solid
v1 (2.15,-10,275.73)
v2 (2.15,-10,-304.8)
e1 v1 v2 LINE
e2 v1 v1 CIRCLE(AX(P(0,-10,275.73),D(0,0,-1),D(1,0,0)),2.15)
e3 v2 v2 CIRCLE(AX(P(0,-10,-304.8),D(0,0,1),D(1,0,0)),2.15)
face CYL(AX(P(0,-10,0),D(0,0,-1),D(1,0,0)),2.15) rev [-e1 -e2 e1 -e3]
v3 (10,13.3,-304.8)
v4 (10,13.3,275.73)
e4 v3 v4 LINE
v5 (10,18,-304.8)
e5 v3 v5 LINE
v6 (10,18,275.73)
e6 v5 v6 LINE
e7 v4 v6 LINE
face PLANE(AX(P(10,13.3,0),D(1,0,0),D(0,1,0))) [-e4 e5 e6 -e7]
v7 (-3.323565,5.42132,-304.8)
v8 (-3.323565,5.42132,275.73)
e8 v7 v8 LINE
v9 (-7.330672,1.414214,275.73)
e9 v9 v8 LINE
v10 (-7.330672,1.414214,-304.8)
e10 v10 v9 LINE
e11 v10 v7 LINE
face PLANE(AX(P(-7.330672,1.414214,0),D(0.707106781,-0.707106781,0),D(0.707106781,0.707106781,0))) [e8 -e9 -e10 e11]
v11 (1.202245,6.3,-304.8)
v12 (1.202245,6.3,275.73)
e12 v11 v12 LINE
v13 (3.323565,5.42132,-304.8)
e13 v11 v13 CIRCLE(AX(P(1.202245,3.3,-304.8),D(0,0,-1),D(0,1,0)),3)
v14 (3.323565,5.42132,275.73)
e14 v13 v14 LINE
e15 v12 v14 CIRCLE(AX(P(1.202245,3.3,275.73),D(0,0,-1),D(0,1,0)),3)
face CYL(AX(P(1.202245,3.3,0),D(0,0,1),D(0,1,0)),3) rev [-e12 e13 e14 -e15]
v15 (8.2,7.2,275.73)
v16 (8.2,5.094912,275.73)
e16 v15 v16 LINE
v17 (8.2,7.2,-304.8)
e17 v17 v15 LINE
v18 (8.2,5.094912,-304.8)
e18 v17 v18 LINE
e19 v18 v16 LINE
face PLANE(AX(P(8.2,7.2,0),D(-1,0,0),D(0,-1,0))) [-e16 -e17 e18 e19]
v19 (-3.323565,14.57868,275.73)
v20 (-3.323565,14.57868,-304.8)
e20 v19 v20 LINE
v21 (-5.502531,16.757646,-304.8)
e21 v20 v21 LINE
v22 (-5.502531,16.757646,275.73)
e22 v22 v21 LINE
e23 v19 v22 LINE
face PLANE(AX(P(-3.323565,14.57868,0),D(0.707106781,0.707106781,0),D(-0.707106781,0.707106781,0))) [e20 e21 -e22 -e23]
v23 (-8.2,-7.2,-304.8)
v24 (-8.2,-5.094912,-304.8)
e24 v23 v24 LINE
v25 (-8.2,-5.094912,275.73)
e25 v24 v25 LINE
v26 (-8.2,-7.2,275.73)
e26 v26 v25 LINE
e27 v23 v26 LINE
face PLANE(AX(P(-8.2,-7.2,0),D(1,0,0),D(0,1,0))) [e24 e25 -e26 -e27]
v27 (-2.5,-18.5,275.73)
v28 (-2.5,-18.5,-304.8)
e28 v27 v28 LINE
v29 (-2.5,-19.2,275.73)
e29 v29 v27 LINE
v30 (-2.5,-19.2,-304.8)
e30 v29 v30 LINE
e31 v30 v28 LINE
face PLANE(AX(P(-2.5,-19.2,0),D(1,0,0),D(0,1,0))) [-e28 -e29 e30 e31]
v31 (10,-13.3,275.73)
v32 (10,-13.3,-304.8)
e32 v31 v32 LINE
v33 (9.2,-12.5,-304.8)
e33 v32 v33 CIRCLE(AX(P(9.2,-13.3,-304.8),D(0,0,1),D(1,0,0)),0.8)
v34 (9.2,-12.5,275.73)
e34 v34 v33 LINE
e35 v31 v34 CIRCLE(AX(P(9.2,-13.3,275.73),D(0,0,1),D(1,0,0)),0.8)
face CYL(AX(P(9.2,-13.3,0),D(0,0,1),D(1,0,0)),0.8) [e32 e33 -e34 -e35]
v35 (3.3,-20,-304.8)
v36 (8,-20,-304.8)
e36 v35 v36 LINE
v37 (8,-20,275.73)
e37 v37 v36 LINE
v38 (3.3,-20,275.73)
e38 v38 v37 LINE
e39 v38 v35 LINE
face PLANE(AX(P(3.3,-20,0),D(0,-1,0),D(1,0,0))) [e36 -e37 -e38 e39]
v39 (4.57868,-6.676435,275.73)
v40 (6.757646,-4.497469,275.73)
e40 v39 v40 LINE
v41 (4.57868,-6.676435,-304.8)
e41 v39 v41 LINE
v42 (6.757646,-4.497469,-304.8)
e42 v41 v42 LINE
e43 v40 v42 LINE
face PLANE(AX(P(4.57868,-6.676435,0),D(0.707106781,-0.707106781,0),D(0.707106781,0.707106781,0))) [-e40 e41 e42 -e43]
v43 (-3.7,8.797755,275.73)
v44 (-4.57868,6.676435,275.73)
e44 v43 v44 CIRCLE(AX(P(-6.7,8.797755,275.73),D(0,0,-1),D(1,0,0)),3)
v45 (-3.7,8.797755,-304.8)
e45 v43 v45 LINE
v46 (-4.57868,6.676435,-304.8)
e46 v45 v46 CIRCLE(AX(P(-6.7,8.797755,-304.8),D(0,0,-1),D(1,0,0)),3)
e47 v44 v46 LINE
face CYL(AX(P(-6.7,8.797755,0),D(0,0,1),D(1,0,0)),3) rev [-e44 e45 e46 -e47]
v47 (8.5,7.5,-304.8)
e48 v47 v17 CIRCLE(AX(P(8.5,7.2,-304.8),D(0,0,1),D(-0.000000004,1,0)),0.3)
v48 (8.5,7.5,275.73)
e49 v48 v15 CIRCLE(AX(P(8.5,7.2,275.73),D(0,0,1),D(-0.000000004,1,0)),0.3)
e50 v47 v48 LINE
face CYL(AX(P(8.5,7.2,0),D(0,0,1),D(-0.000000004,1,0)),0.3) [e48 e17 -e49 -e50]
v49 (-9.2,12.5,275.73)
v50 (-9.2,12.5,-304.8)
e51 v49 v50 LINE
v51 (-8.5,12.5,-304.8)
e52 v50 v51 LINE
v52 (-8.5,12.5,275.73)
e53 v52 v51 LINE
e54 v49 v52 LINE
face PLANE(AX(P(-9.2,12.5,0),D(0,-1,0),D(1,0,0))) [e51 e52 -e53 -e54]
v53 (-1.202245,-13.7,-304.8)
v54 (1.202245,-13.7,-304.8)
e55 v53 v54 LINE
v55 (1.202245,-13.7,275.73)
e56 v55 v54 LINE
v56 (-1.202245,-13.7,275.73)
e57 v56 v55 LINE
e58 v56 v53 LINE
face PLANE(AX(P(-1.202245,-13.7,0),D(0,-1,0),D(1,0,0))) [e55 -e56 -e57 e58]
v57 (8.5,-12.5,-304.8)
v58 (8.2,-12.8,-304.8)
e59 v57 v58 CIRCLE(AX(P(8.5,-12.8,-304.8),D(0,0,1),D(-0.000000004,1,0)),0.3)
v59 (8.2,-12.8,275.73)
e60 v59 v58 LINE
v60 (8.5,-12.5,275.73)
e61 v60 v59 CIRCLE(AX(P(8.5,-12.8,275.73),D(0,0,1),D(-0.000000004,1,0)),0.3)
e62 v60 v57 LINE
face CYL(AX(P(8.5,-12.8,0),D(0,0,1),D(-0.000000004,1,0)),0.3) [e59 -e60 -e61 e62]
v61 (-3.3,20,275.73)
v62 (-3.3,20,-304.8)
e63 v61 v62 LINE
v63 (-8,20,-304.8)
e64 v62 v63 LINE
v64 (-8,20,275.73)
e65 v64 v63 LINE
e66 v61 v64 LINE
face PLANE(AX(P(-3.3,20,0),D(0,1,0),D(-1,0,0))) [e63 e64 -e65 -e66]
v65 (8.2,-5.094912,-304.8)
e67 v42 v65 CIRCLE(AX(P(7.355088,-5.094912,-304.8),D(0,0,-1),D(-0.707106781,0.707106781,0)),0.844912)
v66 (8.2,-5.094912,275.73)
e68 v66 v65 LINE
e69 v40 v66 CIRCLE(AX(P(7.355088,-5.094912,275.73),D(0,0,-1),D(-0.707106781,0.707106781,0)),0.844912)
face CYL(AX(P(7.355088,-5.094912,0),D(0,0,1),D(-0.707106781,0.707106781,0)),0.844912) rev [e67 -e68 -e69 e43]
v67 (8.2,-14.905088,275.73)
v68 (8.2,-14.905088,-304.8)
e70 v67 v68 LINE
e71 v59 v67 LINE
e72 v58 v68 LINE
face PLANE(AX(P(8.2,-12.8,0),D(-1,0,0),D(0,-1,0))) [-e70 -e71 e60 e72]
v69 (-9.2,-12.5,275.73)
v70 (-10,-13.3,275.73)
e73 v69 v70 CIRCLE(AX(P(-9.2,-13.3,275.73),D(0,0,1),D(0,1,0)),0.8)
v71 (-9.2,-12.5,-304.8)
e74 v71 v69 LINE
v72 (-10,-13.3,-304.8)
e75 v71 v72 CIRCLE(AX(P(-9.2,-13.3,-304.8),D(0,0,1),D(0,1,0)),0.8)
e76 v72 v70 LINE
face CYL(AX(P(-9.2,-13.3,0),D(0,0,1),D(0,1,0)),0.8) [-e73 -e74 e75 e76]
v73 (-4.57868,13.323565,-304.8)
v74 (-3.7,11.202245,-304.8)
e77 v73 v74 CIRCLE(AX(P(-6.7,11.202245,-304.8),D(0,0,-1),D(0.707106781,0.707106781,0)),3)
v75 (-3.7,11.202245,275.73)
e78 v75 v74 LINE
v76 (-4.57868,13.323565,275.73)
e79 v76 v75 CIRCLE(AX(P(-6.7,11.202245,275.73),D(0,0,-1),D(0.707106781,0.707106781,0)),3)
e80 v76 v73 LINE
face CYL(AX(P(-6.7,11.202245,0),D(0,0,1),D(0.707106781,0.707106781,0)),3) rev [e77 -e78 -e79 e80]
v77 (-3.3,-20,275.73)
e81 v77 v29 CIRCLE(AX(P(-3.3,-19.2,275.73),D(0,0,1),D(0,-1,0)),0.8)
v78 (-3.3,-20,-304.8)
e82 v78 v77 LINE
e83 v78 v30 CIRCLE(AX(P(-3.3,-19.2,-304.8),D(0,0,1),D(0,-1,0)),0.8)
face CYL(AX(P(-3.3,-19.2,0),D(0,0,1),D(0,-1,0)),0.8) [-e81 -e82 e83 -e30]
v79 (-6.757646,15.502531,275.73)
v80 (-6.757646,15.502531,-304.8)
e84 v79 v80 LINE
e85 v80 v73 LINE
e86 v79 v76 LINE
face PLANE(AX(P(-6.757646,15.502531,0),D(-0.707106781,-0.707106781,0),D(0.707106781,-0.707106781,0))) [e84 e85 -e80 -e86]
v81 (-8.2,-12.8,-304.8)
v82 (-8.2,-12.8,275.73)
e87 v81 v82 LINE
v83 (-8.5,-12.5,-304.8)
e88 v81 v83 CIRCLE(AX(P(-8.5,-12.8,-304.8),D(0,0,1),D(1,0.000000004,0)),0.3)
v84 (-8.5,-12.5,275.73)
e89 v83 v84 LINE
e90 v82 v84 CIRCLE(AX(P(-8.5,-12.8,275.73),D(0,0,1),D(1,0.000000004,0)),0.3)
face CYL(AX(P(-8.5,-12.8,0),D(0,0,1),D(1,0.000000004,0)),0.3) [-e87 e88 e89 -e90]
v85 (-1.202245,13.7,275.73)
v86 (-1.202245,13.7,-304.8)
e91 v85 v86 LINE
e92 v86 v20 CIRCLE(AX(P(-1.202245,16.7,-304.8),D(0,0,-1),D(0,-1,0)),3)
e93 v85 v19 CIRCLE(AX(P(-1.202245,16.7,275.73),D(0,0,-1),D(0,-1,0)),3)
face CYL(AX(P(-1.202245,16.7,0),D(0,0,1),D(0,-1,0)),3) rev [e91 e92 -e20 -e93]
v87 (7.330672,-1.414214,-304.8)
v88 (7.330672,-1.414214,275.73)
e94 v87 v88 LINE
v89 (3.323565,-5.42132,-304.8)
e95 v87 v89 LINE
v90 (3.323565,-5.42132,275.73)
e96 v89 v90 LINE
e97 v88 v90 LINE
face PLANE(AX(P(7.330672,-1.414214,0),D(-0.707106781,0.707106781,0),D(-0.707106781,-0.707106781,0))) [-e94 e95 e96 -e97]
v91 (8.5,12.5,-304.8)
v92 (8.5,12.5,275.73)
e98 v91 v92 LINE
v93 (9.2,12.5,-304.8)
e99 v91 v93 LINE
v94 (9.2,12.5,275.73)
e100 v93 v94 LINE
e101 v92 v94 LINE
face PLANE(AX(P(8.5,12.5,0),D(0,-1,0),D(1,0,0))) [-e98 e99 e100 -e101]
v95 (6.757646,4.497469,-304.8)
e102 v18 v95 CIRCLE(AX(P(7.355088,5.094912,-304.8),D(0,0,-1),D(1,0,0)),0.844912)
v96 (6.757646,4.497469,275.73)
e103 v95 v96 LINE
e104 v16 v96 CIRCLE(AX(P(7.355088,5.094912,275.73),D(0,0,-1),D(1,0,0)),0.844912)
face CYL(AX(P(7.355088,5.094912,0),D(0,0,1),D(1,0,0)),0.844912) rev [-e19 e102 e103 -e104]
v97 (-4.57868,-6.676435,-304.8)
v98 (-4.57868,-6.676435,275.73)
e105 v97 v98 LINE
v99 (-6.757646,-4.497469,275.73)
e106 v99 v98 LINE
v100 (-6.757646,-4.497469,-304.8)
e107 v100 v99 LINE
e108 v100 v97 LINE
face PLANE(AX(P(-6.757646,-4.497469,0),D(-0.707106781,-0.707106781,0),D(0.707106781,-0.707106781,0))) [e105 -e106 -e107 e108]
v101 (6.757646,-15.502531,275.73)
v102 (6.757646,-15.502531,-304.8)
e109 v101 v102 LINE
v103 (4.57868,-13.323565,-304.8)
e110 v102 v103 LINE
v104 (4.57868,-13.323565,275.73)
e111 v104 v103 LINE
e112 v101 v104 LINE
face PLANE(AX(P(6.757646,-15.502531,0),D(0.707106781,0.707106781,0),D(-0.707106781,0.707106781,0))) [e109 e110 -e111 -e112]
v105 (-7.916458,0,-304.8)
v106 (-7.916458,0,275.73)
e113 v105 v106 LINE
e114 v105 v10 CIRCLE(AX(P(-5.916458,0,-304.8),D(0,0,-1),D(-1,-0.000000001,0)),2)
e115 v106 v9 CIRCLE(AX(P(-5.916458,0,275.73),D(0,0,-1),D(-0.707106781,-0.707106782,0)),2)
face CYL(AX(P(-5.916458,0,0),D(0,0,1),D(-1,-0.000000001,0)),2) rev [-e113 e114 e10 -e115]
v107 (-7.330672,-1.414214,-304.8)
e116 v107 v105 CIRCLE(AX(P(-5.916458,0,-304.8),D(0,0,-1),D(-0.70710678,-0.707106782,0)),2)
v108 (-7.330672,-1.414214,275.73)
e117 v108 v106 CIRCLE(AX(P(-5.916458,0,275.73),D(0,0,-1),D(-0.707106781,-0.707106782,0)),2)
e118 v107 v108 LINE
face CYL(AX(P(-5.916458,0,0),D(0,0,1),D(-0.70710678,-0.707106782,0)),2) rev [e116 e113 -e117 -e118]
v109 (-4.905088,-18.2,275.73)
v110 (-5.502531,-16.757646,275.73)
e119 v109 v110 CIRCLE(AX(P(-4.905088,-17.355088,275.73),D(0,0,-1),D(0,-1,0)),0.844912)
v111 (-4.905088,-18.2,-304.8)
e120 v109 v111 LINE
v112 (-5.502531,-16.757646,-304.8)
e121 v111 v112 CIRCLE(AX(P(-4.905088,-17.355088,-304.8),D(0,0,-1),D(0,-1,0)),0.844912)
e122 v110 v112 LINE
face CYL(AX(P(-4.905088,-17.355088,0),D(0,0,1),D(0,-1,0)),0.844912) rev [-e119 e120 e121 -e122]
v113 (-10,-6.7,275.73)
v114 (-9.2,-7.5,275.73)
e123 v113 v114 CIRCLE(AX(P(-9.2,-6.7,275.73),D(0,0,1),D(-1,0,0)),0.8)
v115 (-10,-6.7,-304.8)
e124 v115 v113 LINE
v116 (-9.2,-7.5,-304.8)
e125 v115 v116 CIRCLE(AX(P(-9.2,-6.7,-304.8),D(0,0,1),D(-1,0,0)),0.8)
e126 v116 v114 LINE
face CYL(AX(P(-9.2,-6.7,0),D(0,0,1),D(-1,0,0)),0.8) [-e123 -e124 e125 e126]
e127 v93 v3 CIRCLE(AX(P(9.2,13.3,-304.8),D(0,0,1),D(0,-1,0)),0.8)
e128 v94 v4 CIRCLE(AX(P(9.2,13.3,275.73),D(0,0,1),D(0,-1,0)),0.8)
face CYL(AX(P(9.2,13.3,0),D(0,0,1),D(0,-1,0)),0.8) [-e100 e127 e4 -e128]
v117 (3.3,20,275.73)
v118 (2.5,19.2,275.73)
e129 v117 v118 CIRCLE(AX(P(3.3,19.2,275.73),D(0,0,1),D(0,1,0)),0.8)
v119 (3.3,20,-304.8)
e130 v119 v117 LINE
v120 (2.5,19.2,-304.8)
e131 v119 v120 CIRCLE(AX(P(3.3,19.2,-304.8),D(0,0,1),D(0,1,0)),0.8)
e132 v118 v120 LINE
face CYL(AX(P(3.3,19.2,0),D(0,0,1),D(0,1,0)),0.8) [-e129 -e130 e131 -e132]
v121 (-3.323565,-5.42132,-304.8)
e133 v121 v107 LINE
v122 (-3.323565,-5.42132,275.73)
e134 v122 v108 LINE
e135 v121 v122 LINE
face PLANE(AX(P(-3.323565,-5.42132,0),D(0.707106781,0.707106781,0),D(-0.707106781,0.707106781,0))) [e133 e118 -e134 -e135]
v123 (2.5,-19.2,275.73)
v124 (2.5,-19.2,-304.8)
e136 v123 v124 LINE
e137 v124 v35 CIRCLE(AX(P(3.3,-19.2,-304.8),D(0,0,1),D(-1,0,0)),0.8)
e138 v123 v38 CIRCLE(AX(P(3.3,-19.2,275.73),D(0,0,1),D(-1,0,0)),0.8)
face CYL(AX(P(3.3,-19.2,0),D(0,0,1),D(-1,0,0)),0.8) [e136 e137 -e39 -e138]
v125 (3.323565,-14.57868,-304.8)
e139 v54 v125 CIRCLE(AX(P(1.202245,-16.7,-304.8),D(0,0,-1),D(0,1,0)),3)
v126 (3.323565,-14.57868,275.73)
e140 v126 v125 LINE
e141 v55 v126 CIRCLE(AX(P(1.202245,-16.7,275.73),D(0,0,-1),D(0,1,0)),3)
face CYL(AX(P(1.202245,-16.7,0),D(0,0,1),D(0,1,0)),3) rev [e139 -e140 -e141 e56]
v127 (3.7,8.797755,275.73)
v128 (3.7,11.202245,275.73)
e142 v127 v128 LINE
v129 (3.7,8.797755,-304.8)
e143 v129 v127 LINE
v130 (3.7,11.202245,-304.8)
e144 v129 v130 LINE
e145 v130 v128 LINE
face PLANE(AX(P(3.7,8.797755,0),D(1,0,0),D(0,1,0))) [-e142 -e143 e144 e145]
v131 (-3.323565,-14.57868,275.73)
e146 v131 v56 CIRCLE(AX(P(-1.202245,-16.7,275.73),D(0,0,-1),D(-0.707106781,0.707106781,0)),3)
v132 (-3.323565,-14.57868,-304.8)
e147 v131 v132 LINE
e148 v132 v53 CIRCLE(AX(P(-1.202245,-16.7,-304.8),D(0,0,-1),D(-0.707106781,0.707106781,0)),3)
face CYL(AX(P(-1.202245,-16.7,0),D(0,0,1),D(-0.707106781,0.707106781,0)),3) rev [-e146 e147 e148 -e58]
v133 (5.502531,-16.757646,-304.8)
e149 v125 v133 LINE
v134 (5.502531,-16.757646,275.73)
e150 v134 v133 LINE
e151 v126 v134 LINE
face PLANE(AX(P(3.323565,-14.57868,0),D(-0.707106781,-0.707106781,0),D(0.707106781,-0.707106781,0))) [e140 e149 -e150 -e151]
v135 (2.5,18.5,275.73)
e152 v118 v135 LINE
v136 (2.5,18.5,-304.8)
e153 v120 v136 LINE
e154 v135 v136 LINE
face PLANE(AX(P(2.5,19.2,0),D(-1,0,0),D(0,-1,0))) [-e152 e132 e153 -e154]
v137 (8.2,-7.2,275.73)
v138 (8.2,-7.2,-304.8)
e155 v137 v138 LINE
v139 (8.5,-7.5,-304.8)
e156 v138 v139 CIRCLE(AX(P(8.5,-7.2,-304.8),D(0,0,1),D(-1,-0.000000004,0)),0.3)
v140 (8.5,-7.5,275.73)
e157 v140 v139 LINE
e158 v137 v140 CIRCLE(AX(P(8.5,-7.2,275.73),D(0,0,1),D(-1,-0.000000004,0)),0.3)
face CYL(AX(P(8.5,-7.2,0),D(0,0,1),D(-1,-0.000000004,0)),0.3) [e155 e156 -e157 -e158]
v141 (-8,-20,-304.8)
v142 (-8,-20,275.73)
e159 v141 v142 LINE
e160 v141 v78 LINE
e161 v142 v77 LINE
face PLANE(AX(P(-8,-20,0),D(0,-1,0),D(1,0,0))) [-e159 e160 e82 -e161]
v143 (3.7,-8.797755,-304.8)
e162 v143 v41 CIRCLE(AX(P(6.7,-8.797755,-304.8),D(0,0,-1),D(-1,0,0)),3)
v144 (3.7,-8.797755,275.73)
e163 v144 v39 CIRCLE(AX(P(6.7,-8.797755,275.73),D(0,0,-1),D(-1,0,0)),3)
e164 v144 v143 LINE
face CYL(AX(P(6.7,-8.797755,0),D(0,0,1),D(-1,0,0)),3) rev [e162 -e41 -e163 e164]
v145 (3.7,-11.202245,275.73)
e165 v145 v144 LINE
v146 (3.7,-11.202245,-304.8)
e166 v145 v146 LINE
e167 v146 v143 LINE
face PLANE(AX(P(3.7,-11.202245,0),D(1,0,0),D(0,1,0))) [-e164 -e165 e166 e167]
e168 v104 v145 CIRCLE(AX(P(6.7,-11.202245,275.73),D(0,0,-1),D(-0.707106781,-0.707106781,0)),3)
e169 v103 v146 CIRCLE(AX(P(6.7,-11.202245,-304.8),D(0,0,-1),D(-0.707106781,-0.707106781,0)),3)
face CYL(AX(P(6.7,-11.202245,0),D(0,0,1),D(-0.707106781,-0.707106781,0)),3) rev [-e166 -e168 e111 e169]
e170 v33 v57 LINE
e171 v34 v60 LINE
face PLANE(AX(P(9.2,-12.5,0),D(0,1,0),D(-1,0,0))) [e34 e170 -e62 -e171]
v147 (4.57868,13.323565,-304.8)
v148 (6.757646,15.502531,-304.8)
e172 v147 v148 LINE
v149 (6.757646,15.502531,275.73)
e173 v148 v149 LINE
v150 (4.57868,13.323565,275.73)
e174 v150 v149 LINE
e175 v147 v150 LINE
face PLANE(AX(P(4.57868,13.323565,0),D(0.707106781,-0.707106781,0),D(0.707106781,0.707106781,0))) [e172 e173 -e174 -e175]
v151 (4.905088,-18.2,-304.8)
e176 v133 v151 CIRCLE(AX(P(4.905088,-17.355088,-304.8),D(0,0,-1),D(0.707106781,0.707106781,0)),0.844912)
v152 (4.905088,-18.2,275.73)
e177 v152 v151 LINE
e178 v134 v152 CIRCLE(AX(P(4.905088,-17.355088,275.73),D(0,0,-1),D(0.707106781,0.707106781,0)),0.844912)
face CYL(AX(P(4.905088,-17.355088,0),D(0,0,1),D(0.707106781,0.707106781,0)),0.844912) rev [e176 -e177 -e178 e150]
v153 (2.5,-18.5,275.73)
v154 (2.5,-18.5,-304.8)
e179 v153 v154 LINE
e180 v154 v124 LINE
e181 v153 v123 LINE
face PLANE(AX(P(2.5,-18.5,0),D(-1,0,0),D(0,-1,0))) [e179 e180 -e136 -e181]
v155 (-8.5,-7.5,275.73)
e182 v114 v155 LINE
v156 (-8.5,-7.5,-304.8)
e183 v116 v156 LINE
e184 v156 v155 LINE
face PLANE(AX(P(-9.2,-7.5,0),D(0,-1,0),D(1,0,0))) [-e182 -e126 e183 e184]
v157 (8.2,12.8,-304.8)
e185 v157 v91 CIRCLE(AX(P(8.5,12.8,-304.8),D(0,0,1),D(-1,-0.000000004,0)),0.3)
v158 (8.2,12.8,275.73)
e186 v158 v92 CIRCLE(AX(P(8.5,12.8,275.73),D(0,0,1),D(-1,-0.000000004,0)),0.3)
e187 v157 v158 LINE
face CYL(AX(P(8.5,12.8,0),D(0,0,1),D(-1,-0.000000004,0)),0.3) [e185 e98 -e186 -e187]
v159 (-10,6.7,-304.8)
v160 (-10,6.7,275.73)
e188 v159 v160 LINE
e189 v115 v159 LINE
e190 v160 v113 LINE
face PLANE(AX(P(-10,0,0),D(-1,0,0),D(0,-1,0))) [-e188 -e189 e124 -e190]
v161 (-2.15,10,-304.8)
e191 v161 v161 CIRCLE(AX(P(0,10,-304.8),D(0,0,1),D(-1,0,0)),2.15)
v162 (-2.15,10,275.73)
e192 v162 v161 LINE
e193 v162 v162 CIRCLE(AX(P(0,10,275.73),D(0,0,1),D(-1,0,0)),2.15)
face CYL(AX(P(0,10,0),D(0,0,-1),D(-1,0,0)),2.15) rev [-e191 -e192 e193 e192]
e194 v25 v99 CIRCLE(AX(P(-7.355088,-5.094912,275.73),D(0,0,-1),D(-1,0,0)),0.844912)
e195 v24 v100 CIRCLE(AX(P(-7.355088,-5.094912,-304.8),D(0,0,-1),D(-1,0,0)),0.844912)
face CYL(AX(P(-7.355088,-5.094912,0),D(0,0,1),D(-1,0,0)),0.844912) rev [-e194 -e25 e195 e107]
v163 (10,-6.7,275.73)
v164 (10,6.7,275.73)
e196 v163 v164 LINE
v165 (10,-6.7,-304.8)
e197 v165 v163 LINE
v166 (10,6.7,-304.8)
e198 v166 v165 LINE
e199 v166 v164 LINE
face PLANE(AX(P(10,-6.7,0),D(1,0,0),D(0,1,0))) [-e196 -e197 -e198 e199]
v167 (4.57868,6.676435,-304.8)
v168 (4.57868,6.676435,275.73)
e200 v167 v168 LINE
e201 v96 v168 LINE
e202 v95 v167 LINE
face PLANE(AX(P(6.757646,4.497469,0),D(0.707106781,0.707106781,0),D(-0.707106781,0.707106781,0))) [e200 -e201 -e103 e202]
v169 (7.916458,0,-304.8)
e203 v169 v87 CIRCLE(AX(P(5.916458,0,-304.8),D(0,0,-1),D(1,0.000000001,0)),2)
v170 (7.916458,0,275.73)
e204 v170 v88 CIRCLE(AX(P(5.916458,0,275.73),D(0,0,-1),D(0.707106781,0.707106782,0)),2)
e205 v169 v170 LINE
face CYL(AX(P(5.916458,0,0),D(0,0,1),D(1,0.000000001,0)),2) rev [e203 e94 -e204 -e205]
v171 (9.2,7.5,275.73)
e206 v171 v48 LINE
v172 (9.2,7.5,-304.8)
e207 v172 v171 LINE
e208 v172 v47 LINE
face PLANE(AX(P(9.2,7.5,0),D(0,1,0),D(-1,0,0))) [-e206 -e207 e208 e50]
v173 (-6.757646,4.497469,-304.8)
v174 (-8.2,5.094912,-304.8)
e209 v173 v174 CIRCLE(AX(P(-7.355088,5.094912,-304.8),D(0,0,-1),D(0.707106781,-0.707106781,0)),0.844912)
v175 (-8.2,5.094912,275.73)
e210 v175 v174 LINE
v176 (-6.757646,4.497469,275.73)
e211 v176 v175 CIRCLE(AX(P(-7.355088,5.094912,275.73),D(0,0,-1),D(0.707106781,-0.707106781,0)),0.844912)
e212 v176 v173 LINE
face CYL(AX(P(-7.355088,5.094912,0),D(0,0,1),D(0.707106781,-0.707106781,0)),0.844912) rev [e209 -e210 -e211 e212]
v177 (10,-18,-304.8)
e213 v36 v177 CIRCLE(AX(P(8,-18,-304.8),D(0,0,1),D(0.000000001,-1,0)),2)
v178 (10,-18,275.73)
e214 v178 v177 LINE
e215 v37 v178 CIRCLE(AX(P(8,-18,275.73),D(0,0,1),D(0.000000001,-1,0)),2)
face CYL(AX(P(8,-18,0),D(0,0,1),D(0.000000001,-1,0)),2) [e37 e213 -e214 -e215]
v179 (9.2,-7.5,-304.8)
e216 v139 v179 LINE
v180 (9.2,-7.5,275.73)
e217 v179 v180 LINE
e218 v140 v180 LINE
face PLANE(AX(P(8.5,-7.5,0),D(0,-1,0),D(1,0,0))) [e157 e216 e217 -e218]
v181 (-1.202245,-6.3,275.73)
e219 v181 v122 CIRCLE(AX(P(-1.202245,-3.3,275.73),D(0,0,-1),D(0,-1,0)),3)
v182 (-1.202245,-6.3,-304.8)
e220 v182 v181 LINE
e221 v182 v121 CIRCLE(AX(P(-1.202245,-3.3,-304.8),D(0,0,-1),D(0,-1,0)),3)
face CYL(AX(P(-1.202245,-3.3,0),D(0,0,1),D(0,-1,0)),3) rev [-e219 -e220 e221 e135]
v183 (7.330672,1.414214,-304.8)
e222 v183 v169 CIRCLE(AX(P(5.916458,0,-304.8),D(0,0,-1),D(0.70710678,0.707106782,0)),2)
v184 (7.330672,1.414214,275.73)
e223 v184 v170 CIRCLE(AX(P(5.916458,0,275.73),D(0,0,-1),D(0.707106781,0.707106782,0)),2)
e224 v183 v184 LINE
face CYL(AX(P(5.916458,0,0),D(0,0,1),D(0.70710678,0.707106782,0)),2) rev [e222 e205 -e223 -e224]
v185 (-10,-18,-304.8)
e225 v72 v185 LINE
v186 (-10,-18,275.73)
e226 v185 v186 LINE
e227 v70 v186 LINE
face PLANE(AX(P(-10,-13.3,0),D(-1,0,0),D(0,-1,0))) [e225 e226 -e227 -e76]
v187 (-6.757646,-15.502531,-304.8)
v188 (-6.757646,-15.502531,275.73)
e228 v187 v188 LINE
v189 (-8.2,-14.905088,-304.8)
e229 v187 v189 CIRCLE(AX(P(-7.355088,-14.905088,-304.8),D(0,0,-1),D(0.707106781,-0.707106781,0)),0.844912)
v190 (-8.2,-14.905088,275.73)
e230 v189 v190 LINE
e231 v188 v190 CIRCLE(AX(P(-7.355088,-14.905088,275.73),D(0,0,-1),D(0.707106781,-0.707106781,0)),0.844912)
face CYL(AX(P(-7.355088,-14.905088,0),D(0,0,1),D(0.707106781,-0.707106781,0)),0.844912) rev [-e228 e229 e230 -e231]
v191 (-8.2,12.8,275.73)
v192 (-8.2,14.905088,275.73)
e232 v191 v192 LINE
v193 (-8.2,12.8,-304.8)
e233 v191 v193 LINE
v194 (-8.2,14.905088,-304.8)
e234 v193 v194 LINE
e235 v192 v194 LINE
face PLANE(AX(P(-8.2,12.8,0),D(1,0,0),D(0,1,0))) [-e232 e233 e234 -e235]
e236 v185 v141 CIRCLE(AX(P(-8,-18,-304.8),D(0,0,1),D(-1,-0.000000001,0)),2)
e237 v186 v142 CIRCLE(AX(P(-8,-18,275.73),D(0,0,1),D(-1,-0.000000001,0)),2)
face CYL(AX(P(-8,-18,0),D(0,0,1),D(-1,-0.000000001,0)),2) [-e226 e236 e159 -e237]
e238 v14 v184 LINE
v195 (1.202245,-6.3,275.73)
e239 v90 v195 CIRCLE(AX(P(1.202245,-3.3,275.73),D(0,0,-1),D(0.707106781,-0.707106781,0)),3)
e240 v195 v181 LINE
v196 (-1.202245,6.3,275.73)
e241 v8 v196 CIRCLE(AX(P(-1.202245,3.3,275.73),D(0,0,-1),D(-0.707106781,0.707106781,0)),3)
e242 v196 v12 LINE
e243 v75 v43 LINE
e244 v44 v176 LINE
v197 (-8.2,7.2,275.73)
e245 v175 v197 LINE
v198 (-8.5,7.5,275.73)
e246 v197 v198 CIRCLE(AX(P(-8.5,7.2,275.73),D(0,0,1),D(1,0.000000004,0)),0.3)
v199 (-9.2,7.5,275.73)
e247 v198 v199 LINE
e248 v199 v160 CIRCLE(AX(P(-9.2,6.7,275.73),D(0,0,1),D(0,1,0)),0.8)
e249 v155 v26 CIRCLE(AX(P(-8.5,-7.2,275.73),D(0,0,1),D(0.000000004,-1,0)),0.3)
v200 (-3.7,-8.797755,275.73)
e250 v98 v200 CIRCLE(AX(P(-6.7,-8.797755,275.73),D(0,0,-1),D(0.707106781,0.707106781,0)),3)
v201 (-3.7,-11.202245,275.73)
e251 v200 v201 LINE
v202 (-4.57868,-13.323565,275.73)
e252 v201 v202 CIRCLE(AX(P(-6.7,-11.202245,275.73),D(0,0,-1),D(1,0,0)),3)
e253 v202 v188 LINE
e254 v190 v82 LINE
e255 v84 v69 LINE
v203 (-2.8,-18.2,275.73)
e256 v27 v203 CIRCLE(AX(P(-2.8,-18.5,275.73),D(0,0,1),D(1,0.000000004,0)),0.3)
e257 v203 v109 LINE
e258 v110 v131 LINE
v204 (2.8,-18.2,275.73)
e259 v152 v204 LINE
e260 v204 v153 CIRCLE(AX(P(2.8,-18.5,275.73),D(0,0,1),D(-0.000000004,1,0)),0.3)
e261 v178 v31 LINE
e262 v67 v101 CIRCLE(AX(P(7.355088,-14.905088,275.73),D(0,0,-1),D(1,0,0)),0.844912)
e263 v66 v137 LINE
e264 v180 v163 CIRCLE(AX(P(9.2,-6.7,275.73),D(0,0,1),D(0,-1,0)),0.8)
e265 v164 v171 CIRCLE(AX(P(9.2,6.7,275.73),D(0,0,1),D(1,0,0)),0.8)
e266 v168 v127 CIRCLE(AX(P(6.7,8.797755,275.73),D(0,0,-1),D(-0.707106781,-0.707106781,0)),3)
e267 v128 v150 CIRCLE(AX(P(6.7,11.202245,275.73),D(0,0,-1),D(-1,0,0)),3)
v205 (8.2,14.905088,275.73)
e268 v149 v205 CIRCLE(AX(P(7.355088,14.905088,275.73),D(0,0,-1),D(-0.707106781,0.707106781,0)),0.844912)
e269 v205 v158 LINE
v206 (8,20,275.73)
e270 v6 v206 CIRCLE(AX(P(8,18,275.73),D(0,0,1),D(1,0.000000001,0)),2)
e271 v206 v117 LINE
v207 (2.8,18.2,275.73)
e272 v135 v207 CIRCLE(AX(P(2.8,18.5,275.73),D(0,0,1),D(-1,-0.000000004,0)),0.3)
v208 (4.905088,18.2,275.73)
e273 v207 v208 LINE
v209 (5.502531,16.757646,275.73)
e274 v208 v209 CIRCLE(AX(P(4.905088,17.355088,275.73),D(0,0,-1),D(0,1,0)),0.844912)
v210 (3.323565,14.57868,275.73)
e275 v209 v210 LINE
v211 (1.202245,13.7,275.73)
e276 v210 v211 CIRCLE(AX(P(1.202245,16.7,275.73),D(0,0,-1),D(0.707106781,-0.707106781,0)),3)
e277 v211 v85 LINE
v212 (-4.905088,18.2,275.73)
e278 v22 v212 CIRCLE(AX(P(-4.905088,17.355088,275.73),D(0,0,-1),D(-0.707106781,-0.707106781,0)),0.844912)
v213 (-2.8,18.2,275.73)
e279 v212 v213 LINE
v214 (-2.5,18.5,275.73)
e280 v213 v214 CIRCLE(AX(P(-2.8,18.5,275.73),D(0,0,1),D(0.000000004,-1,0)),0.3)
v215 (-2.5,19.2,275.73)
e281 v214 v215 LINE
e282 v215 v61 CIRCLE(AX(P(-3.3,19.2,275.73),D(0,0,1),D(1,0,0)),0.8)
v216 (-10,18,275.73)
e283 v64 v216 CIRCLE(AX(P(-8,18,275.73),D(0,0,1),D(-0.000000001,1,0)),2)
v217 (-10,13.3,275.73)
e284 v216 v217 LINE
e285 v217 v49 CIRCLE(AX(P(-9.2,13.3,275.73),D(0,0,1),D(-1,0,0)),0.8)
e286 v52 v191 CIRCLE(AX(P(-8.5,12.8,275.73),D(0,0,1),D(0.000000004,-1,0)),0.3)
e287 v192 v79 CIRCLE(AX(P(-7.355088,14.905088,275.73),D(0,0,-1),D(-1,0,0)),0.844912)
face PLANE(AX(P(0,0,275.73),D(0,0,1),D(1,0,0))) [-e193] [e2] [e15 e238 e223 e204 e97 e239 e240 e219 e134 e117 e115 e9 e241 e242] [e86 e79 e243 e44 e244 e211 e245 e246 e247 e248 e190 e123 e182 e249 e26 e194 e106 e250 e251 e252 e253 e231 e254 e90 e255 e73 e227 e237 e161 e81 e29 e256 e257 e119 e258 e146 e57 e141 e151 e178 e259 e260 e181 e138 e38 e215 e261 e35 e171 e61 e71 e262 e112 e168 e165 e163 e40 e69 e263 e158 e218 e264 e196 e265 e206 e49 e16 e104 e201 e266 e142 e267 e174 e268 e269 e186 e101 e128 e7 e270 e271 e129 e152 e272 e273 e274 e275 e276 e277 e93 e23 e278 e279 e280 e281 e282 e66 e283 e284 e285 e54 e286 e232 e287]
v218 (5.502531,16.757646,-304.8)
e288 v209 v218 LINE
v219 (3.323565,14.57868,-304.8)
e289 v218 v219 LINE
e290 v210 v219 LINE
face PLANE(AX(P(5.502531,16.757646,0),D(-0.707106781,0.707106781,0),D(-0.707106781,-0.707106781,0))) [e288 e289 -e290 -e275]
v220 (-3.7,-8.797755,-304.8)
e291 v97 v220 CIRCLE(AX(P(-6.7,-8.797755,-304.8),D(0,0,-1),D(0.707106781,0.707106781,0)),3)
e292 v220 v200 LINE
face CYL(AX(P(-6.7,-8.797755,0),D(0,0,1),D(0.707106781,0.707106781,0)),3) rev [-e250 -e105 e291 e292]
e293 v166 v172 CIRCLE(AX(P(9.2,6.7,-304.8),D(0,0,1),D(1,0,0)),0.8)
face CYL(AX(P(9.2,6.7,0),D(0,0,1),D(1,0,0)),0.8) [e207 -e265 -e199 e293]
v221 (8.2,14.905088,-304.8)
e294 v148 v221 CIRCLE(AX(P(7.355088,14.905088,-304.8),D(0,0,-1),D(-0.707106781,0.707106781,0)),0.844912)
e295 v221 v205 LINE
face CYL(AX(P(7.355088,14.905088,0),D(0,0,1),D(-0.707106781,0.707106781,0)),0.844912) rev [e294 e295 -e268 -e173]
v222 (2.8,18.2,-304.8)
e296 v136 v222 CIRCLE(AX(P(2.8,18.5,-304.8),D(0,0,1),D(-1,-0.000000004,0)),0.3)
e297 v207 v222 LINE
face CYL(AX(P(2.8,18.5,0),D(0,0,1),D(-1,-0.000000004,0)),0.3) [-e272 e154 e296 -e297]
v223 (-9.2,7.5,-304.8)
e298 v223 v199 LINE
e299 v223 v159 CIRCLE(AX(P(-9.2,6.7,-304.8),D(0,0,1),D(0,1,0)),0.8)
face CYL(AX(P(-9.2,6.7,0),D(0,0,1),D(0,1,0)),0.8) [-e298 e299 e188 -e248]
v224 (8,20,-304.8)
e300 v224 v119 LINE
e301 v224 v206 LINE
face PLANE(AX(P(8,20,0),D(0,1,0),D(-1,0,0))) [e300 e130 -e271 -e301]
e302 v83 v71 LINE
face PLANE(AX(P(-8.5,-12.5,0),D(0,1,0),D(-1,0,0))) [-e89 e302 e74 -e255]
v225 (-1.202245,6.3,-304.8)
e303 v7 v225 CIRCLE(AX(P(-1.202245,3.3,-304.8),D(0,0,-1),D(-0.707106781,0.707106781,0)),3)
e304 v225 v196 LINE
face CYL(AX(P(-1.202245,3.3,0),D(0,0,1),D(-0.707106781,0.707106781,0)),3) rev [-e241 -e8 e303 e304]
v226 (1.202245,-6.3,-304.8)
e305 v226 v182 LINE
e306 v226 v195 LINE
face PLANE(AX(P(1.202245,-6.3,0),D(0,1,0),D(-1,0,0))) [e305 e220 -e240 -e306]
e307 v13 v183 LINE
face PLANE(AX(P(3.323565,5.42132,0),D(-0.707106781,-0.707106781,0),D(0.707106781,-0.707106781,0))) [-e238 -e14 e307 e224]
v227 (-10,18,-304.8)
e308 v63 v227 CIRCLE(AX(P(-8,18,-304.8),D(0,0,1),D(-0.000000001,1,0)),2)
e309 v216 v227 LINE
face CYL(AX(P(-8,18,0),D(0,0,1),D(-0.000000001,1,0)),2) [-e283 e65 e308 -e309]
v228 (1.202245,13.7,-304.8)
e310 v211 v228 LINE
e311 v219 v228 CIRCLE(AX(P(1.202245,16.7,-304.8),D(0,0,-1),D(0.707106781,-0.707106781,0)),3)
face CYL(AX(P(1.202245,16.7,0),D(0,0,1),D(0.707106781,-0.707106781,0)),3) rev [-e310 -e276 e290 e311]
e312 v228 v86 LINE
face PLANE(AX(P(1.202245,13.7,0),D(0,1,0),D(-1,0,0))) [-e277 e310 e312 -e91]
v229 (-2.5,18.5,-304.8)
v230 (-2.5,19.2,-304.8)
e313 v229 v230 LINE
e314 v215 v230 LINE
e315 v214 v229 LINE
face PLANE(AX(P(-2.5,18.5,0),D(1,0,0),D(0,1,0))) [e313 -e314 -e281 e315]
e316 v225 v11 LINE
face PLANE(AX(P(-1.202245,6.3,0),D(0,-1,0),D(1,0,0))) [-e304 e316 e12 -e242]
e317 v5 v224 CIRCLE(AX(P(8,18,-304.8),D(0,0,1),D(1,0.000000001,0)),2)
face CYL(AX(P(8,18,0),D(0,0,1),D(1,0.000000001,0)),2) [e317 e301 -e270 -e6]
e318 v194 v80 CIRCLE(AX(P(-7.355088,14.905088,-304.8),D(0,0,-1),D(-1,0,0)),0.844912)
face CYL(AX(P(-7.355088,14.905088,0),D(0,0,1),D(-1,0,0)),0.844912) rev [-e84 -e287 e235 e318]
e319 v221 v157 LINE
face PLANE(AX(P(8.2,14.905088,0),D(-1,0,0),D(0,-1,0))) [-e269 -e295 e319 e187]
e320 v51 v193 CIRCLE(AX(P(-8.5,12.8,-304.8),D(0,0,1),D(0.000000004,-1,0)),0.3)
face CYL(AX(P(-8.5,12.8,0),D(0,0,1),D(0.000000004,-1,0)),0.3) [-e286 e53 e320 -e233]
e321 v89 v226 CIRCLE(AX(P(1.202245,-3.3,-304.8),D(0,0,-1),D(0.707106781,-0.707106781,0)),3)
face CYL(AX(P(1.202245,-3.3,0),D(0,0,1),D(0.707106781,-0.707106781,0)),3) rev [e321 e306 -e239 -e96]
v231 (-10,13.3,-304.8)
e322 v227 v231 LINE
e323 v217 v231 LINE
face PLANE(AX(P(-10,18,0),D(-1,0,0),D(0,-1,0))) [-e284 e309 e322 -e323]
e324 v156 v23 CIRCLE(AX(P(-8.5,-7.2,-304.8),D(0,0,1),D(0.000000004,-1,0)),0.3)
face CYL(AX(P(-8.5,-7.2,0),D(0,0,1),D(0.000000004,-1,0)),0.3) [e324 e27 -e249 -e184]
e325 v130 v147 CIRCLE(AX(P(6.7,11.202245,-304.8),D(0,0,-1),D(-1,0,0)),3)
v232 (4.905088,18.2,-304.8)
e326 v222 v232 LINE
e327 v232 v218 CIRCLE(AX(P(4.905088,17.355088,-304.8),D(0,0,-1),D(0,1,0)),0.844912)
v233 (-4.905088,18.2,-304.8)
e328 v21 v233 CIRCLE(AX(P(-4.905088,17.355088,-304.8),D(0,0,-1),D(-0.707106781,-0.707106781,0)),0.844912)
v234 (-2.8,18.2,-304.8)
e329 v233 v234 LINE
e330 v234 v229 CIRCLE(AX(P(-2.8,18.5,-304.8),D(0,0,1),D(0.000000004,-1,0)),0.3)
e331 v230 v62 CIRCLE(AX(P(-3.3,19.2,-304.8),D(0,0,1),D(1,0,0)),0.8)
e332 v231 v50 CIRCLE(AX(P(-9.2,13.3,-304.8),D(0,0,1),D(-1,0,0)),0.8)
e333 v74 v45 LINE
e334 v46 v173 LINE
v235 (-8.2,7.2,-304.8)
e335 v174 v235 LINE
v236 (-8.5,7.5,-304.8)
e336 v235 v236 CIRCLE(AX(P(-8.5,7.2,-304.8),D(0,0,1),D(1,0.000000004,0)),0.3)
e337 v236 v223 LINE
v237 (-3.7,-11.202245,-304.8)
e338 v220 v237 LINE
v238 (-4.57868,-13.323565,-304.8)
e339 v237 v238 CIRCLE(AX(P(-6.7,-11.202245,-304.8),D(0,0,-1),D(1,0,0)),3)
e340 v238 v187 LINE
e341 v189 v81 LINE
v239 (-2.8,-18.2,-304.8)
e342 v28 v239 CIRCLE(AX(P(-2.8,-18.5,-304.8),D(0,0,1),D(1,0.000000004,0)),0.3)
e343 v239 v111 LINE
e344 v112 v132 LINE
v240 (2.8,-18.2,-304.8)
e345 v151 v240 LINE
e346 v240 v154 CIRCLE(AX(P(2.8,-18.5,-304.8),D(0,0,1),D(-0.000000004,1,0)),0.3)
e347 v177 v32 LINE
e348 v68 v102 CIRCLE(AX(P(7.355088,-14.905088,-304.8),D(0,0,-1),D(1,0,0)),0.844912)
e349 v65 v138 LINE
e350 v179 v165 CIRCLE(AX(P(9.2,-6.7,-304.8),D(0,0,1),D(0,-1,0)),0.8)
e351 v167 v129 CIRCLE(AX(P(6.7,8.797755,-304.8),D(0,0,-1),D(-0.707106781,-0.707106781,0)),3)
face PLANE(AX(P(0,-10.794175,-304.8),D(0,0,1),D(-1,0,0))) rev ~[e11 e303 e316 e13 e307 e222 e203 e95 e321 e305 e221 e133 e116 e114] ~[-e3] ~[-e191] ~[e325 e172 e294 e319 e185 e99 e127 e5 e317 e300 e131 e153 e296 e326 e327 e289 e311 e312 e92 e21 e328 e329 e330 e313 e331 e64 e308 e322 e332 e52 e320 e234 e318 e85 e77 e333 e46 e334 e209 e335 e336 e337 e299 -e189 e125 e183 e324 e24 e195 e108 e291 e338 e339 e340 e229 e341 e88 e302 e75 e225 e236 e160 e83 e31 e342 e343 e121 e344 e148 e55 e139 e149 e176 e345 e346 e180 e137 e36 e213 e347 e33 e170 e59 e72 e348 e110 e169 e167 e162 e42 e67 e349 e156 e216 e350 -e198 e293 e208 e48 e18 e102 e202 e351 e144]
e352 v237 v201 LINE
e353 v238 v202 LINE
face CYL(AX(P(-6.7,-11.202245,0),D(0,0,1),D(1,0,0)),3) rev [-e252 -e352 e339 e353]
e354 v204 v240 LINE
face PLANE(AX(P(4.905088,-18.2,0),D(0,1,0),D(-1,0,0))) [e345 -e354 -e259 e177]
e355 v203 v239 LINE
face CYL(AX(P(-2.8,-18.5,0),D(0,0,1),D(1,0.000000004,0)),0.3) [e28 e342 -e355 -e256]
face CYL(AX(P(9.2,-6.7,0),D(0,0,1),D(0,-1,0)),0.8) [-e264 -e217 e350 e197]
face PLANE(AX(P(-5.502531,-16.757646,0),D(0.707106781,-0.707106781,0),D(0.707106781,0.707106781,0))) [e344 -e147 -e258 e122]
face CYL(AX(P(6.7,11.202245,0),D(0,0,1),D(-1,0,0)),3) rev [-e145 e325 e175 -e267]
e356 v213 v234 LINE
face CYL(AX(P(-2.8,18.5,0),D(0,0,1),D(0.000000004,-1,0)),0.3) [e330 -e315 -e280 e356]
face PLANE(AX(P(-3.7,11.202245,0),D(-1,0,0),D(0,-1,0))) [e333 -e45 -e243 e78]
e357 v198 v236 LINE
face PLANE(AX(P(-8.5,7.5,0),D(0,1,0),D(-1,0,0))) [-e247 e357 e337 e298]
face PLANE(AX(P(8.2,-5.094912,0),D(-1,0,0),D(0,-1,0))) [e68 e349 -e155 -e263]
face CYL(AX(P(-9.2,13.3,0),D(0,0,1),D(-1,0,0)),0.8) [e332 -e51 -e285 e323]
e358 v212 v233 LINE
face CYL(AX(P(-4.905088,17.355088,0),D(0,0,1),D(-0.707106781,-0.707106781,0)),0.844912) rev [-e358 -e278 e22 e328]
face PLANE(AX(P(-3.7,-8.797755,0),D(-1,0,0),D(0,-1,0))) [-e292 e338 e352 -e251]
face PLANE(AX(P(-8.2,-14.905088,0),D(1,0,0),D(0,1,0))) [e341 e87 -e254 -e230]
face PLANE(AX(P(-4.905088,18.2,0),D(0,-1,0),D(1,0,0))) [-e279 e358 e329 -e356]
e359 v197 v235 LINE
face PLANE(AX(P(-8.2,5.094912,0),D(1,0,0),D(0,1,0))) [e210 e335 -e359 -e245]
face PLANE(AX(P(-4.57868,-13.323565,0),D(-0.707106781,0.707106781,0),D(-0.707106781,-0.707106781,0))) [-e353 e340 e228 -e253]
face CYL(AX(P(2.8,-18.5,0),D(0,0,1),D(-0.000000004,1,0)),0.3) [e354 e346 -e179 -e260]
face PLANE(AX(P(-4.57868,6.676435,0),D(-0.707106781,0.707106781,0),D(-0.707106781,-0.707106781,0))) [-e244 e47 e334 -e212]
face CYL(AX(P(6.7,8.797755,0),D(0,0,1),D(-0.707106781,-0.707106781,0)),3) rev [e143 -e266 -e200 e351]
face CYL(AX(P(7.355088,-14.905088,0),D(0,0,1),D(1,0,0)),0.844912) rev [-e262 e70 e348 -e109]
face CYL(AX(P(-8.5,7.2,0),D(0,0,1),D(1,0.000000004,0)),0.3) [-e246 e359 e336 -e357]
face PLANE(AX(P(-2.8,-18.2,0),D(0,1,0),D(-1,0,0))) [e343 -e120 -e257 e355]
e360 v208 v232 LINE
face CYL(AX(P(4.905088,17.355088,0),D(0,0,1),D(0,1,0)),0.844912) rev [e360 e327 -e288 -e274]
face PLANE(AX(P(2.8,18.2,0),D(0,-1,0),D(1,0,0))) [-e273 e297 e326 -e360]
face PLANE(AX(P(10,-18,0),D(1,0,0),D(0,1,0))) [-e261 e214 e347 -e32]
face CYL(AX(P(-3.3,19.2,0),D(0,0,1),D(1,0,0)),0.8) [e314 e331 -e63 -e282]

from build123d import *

# Parameters (mm, degrees)
SKETCH3_R           = 2.15
BOSS_EXTRUDE1_DEPTH = 304.8
CIRPATTERN1_COUNT   = 2
SKETCH4_R           = 2.15
CUT_EXTRUDE1_DEPTH  = 29.07


with BuildPart() as part:
    # Sketch3 → Boss-Extrude1 (new, symmetric)
    with BuildSketch(Plane.XY):
        with BuildLine():
            Line((-8.5, 7.5), (-9.2, 7.5))
            ThreePointArc((-9.2, 7.5), (-9.765685425, 7.265685425), (-10, 6.7))
            Line((-10, 6.7), (-10, 0))
            Line((-10, 0), (-7.916458339, 0))
            ThreePointArc((-7.916458339, 0), (-7.764217404, 0.765366865), (-7.330671901, 1.414213562))
            Line((-7.330671901, 1.414213562), (-3.32356512, 5.421320344))
            ThreePointArc((-3.32356512, 5.421320344), (-2.350295073, 6.071638598), (-1.202244776, 6.3))
            Line((-1.202244776, 6.3), (1.202244776, 6.3))
            ThreePointArc((1.202244776, 6.3), (2.350295073, 6.071638598), (3.32356512, 5.421320344))
            Line((3.32356512, 5.421320344), (7.330671901, 1.414213562))
            ThreePointArc((7.330671901, 1.414213562), (7.764217404, 0.765366865), (7.916458339, 0))
            Line((7.916458339, 0), (10, 0))
            Line((10, 0), (10, 6.7))
            ThreePointArc((10, 6.7), (9.765685425, 7.265685425), (9.2, 7.5))
            Line((9.2, 7.5), (8.5, 7.5))
            ThreePointArc((8.5, 7.5), (8.287867966, 7.412132034), (8.2, 7.2))
            Line((8.2, 7.2), (8.2, 5.094911614))
            ThreePointArc((8.2, 5.094911614), (7.678422063, 4.314315067), (6.757645654, 4.497468882))
            Line((6.757645654, 4.497468882), (4.578679656, 6.67643488))
            ThreePointArc((4.578679656, 6.67643488), (3.928361402, 7.649704927), (3.7, 8.797755224))
            Line((3.7, 8.797755224), (3.7, 11.202244776))
            ThreePointArc((3.7, 11.202244776), (3.928361402, 12.350295073), (4.578679656, 13.32356512))
            Line((4.578679656, 13.32356512), (6.757645654, 15.502531118))
            ThreePointArc((6.757645654, 15.502531118), (7.678422063, 15.685684933), (8.2, 14.905088386))
            Line((8.2, 14.905088386), (8.2, 12.8))
            ThreePointArc((8.2, 12.8), (8.287867966, 12.587867966), (8.5, 12.5))
            Line((8.5, 12.5), (9.2, 12.5))
            ThreePointArc((9.2, 12.5), (9.765685425, 12.734314575), (10, 13.3))
            Line((10, 13.3), (10, 18))
            ThreePointArc((10, 18), (9.414213562, 19.414213562), (8, 20))
            Line((8, 20), (3.3, 20))
            ThreePointArc((3.3, 20), (2.734314575, 19.765685425), (2.5, 19.2))
            Line((2.5, 19.2), (2.5, 18.5))
            ThreePointArc((2.5, 18.5), (2.587867966, 18.287867966), (2.8, 18.2))
            Line((2.8, 18.2), (4.905088386, 18.2))
            ThreePointArc((4.905088386, 18.2), (5.685684933, 17.678422063), (5.502531118, 16.757645654))
            Line((5.502531118, 16.757645654), (3.32356512, 14.578679656))
            ThreePointArc((3.32356512, 14.578679656), (2.350295073, 13.928361402), (1.202244776, 13.7))
            Line((1.202244776, 13.7), (-1.202244776, 13.7))
            ThreePointArc((-1.202244776, 13.7), (-2.350295073, 13.928361402), (-3.32356512, 14.578679656))
            Line((-3.32356512, 14.578679656), (-5.502531118, 16.757645654))
            ThreePointArc((-5.502531118, 16.757645654), (-5.685684933, 17.678422063), (-4.905088386, 18.2))
            Line((-4.905088386, 18.2), (-2.8, 18.2))
            ThreePointArc((-2.8, 18.2), (-2.587867966, 18.287867966), (-2.5, 18.5))
            Line((-2.5, 18.5), (-2.5, 19.2))
            ThreePointArc((-2.5, 19.2), (-2.734314575, 19.765685425), (-3.3, 20))
            Line((-3.3, 20), (-8, 20))
            ThreePointArc((-8, 20), (-9.414213562, 19.414213562), (-10, 18))
            Line((-10, 18), (-10, 13.3))
            ThreePointArc((-10, 13.3), (-9.765685425, 12.734314575), (-9.2, 12.5))
            Line((-9.2, 12.5), (-8.5, 12.5))
            ThreePointArc((-8.5, 12.5), (-8.287867966, 12.587867966), (-8.2, 12.8))
            Line((-8.2, 12.8), (-8.2, 14.905088386))
            ThreePointArc((-8.2, 14.905088386), (-7.678422063, 15.685684933), (-6.757645654, 15.502531118))
            Line((-6.757645654, 15.502531118), (-4.578679656, 13.32356512))
            ThreePointArc((-4.578679656, 13.32356512), (-3.928361402, 12.350295073), (-3.7, 11.202244776))
            Line((-3.7, 11.202244776), (-3.7, 8.797755224))
            ThreePointArc((-3.7, 8.797755224), (-3.928361402, 7.649704927), (-4.578679656, 6.67643488))
            Line((-4.578679656, 6.67643488), (-6.757645654, 4.497468882))
            ThreePointArc((-6.757645654, 4.497468882), (-7.678422063, 4.314315067), (-8.2, 5.094911614))
            Line((-8.2, 5.094911614), (-8.2, 7.2))
            ThreePointArc((-8.2, 7.2), (-8.287867966, 7.412132034), (-8.5, 7.5))
        make_face()
        with Locations(Location((0, 10, 0), (0, 0, 180))):
            Circle(SKETCH3_R, mode=Mode.SUBTRACT)
    boss_extrude1 = extrude(amount=BOSS_EXTRUDE1_DEPTH, both=True)

    # CirPattern1: Boss-Extrude1 ×2 about axis
    cirpattern1_axis = Axis((0, 0, 0), (0, 0, 1))
    for i in range(1, CIRPATTERN1_COUNT):
        add(boss_extrude1.rotate(cirpattern1_axis, i * 360 / CIRPATTERN1_COUNT))

    # Sketch4 → Cut-Extrude1 (cut)
    with BuildSketch(Plane.XY.offset(304.8)):
        with BuildLine():
            Line((-2.5, 18.5), (-2.5, 19.2))
            ThreePointArc((-2.5, 19.2), (-2.734314575, 19.765685425), (-3.3, 20))
            Line((-3.3, 20), (-8, 20))
            ThreePointArc((-8, 20), (-9.414213562, 19.414213562), (-10, 18))
            Line((-10, 18), (-10, 13.3))
            ThreePointArc((-10, 13.3), (-9.765685425, 12.734314575), (-9.2, 12.5))
            Line((-9.2, 12.5), (-8.5, 12.5))
            ThreePointArc((-8.5, 12.5), (-8.287867966, 12.587867966), (-8.2, 12.8))
            Line((-8.2, 12.8), (-8.2, 14.905088386))
            ThreePointArc((-8.2, 14.905088386), (-7.678422063, 15.685684933), (-6.757645654, 15.502531118))
            Line((-6.757645654, 15.502531118), (-4.578679656, 13.32356512))
            ThreePointArc((-4.578679656, 13.32356512), (-3.928361402, 12.350295073), (-3.7, 11.202244776))
            Line((-3.7, 11.202244776), (-3.7, 8.797755224))
            ThreePointArc((-3.7, 8.797755224), (-3.928361402, 7.649704927), (-4.578679656, 6.67643488))
            Line((-4.578679656, 6.67643488), (-6.757645654, 4.497468882))
            ThreePointArc((-6.757645654, 4.497468882), (-7.678422063, 4.314315067), (-8.2, 5.094911614))
            Line((-8.2, 5.094911614), (-8.2, 7.2))
            ThreePointArc((-8.2, 7.2), (-8.287867966, 7.412132034), (-8.5, 7.5))
            Line((-8.5, 7.5), (-9.2, 7.5))
            ThreePointArc((-9.2, 7.5), (-9.765685425, 7.265685425), (-10, 6.7))
            Line((-10, 6.7), (-10, -6.7))
            ThreePointArc((-10, -6.7), (-9.765685425, -7.265685425), (-9.2, -7.5))
            Line((-9.2, -7.5), (-8.5, -7.5))
            ThreePointArc((-8.5, -7.5), (-8.287867966, -7.412132034), (-8.2, -7.2))
            Line((-8.2, -7.2), (-8.2, -5.094911614))
            ThreePointArc((-8.2, -5.094911614), (-7.678422063, -4.314315067), (-6.757645654, -4.497468882))
            Line((-6.757645654, -4.497468882), (-4.578679656, -6.67643488))
            ThreePointArc((-4.578679656, -6.67643488), (-3.928361402, -7.649704927), (-3.7, -8.797755224))
            Line((-3.7, -8.797755224), (-3.7, -11.202244776))
            ThreePointArc((-3.7, -11.202244776), (-3.928361402, -12.350295073), (-4.578679656, -13.32356512))
            Line((-4.578679656, -13.32356512), (-6.757645654, -15.502531118))
            ThreePointArc((-6.757645654, -15.502531118), (-7.678422063, -15.685684933), (-8.2, -14.905088386))
            Line((-8.2, -14.905088386), (-8.2, -12.8))
            ThreePointArc((-8.2, -12.8), (-8.287867966, -12.587867966), (-8.5, -12.5))
            Line((-8.5, -12.5), (-9.2, -12.5))
            ThreePointArc((-9.2, -12.5), (-9.765685425, -12.734314575), (-10, -13.3))
            Line((-10, -13.3), (-10, -18))
            ThreePointArc((-10, -18), (-9.414213562, -19.414213562), (-8, -20))
            Line((-8, -20), (-3.3, -20))
            ThreePointArc((-3.3, -20), (-2.734314575, -19.765685425), (-2.5, -19.2))
            Line((-2.5, -19.2), (-2.5, -18.5))
            ThreePointArc((-2.5, -18.5), (-2.587867966, -18.287867966), (-2.8, -18.2))
            Line((-2.8, -18.2), (-4.905088386, -18.2))
            ThreePointArc((-4.905088386, -18.2), (-5.685684933, -17.678422063), (-5.502531118, -16.757645654))
            Line((-5.502531118, -16.757645654), (-3.32356512, -14.578679656))
            ThreePointArc((-3.32356512, -14.578679656), (-2.350295073, -13.928361402), (-1.202244776, -13.7))
            Line((-1.202244776, -13.7), (1.202244776, -13.7))
            ThreePointArc((1.202244776, -13.7), (2.350295073, -13.928361402), (3.32356512, -14.578679656))
            Line((3.32356512, -14.578679656), (5.502531118, -16.757645654))
            ThreePointArc((5.502531118, -16.757645654), (5.685684933, -17.678422063), (4.905088386, -18.2))
            Line((4.905088386, -18.2), (2.8, -18.2))
            ThreePointArc((2.8, -18.2), (2.587867966, -18.287867966), (2.5, -18.5))
            Line((2.5, -18.5), (2.5, -19.2))
            ThreePointArc((2.5, -19.2), (2.734314575, -19.765685425), (3.3, -20))
            Line((3.3, -20), (8, -20))
            ThreePointArc((8, -20), (9.414213562, -19.414213562), (10, -18))
            Line((10, -18), (10, -13.3))
            ThreePointArc((10, -13.3), (9.765685425, -12.734314575), (9.2, -12.5))
            Line((9.2, -12.5), (8.5, -12.5))
            ThreePointArc((8.5, -12.5), (8.287867966, -12.587867966), (8.2, -12.8))
            Line((8.2, -12.8), (8.2, -14.905088386))
            ThreePointArc((8.2, -14.905088386), (7.678422063, -15.685684933), (6.757645654, -15.502531118))
            Line((6.757645654, -15.502531118), (4.578679656, -13.32356512))
            ThreePointArc((4.578679656, -13.32356512), (3.928361402, -12.350295073), (3.7, -11.202244776))
            Line((3.7, -11.202244776), (3.7, -8.797755224))
            ThreePointArc((3.7, -8.797755224), (3.928361402, -7.649704927), (4.578679656, -6.67643488))
            Line((4.578679656, -6.67643488), (6.757645654, -4.497468882))
            ThreePointArc((6.757645654, -4.497468882), (7.678422063, -4.314315067), (8.2, -5.094911614))
            Line((8.2, -5.094911614), (8.2, -7.2))
            ThreePointArc((8.2, -7.2), (8.287867966, -7.412132034), (8.5, -7.5))
            Line((8.5, -7.5), (9.2, -7.5))
            ThreePointArc((9.2, -7.5), (9.765685425, -7.265685425), (10, -6.7))
            Line((10, -6.7), (10, 6.7))
            ThreePointArc((10, 6.7), (9.765685425, 7.265685425), (9.2, 7.5))
            Line((9.2, 7.5), (8.5, 7.5))
            ThreePointArc((8.5, 7.5), (8.287867966, 7.412132034), (8.2, 7.2))
            Line((8.2, 7.2), (8.2, 5.094911614))
            ThreePointArc((8.2, 5.094911614), (7.678422063, 4.314315067), (6.757645654, 4.497468882))
            Line((6.757645654, 4.497468882), (4.578679656, 6.67643488))
            ThreePointArc((4.578679656, 6.67643488), (3.928361402, 7.649704927), (3.7, 8.797755224))
            Line((3.7, 8.797755224), (3.7, 11.202244776))
            ThreePointArc((3.7, 11.202244776), (3.928361402, 12.350295073), (4.578679656, 13.32356512))
            Line((4.578679656, 13.32356512), (6.757645654, 15.502531118))
            ThreePointArc((6.757645654, 15.502531118), (7.678422063, 15.685684933), (8.2, 14.905088386))
            Line((8.2, 14.905088386), (8.2, 12.8))
            ThreePointArc((8.2, 12.8), (8.287867966, 12.587867966), (8.5, 12.5))
            Line((8.5, 12.5), (9.2, 12.5))
            ThreePointArc((9.2, 12.5), (9.765685425, 12.734314575), (10, 13.3))
            Line((10, 13.3), (10, 18))
            ThreePointArc((10, 18), (9.414213562, 19.414213562), (8, 20))
            Line((8, 20), (3.3, 20))
            ThreePointArc((3.3, 20), (2.734314575, 19.765685425), (2.5, 19.2))
            Line((2.5, 19.2), (2.5, 18.5))
            ThreePointArc((2.5, 18.5), (2.587867966, 18.287867966), (2.8, 18.2))
            Line((2.8, 18.2), (4.905088386, 18.2))
            ThreePointArc((4.905088386, 18.2), (5.685684933, 17.678422063), (5.502531118, 16.757645654))
            Line((5.502531118, 16.757645654), (3.32356512, 14.578679656))
            ThreePointArc((3.32356512, 14.578679656), (2.350295073, 13.928361402), (1.202244776, 13.7))
            Line((1.202244776, 13.7), (-1.202244776, 13.7))
            ThreePointArc((-1.202244776, 13.7), (-2.350295073, 13.928361402), (-3.32356512, 14.578679656))
            Line((-3.32356512, 14.578679656), (-5.502531118, 16.757645654))
            ThreePointArc((-5.502531118, 16.757645654), (-5.685684933, 17.678422063), (-4.905088386, 18.2))
            Line((-4.905088386, 18.2), (-2.8, 18.2))
            ThreePointArc((-2.8, 18.2), (-2.587867966, 18.287867966), (-2.5, 18.5))
        make_face()
        with Locations(Location((0, 10, 0), (0, 0, 180))):
            Circle(SKETCH4_R, mode=Mode.SUBTRACT)
        with Locations(Location((0, -10, 0), (0, 0, 90))):
            Circle(SKETCH4_R, mode=Mode.SUBTRACT)
        with BuildLine():
            Line((7.330671901, -1.414213562), (3.32356512, -5.421320344))
            ThreePointArc((3.32356512, -5.421320344), (2.350295073, -6.071638598), (1.202244776, -6.3))
            Line((1.202244776, -6.3), (-1.202244776, -6.3))
            ThreePointArc((-1.202244776, -6.3), (-2.350295073, -6.071638598), (-3.32356512, -5.421320344))
            Line((-3.32356512, -5.421320344), (-7.330671901, -1.414213562))
            ThreePointArc((-7.330671901, -1.414213562), (-7.916458339, 0), (-7.330671901, 1.414213562))
            Line((-7.330671901, 1.414213562), (-3.32356512, 5.421320344))
            ThreePointArc((-3.32356512, 5.421320344), (-2.350295073, 6.071638598), (-1.202244776, 6.3))
            Line((-1.202244776, 6.3), (1.202244776, 6.3))
            ThreePointArc((1.202244776, 6.3), (2.350295073, 6.071638598), (3.32356512, 5.421320344))
            Line((3.32356512, 5.421320344), (7.330671901, 1.414213562))
            ThreePointArc((7.330671901, 1.414213562), (7.916458339, 0), (7.330671901, -1.414213562))
        make_face(mode=Mode.SUBTRACT)
    extrude(amount=-CUT_EXTRUDE1_DEPTH, mode=Mode.SUBTRACT)


solid = part.part
